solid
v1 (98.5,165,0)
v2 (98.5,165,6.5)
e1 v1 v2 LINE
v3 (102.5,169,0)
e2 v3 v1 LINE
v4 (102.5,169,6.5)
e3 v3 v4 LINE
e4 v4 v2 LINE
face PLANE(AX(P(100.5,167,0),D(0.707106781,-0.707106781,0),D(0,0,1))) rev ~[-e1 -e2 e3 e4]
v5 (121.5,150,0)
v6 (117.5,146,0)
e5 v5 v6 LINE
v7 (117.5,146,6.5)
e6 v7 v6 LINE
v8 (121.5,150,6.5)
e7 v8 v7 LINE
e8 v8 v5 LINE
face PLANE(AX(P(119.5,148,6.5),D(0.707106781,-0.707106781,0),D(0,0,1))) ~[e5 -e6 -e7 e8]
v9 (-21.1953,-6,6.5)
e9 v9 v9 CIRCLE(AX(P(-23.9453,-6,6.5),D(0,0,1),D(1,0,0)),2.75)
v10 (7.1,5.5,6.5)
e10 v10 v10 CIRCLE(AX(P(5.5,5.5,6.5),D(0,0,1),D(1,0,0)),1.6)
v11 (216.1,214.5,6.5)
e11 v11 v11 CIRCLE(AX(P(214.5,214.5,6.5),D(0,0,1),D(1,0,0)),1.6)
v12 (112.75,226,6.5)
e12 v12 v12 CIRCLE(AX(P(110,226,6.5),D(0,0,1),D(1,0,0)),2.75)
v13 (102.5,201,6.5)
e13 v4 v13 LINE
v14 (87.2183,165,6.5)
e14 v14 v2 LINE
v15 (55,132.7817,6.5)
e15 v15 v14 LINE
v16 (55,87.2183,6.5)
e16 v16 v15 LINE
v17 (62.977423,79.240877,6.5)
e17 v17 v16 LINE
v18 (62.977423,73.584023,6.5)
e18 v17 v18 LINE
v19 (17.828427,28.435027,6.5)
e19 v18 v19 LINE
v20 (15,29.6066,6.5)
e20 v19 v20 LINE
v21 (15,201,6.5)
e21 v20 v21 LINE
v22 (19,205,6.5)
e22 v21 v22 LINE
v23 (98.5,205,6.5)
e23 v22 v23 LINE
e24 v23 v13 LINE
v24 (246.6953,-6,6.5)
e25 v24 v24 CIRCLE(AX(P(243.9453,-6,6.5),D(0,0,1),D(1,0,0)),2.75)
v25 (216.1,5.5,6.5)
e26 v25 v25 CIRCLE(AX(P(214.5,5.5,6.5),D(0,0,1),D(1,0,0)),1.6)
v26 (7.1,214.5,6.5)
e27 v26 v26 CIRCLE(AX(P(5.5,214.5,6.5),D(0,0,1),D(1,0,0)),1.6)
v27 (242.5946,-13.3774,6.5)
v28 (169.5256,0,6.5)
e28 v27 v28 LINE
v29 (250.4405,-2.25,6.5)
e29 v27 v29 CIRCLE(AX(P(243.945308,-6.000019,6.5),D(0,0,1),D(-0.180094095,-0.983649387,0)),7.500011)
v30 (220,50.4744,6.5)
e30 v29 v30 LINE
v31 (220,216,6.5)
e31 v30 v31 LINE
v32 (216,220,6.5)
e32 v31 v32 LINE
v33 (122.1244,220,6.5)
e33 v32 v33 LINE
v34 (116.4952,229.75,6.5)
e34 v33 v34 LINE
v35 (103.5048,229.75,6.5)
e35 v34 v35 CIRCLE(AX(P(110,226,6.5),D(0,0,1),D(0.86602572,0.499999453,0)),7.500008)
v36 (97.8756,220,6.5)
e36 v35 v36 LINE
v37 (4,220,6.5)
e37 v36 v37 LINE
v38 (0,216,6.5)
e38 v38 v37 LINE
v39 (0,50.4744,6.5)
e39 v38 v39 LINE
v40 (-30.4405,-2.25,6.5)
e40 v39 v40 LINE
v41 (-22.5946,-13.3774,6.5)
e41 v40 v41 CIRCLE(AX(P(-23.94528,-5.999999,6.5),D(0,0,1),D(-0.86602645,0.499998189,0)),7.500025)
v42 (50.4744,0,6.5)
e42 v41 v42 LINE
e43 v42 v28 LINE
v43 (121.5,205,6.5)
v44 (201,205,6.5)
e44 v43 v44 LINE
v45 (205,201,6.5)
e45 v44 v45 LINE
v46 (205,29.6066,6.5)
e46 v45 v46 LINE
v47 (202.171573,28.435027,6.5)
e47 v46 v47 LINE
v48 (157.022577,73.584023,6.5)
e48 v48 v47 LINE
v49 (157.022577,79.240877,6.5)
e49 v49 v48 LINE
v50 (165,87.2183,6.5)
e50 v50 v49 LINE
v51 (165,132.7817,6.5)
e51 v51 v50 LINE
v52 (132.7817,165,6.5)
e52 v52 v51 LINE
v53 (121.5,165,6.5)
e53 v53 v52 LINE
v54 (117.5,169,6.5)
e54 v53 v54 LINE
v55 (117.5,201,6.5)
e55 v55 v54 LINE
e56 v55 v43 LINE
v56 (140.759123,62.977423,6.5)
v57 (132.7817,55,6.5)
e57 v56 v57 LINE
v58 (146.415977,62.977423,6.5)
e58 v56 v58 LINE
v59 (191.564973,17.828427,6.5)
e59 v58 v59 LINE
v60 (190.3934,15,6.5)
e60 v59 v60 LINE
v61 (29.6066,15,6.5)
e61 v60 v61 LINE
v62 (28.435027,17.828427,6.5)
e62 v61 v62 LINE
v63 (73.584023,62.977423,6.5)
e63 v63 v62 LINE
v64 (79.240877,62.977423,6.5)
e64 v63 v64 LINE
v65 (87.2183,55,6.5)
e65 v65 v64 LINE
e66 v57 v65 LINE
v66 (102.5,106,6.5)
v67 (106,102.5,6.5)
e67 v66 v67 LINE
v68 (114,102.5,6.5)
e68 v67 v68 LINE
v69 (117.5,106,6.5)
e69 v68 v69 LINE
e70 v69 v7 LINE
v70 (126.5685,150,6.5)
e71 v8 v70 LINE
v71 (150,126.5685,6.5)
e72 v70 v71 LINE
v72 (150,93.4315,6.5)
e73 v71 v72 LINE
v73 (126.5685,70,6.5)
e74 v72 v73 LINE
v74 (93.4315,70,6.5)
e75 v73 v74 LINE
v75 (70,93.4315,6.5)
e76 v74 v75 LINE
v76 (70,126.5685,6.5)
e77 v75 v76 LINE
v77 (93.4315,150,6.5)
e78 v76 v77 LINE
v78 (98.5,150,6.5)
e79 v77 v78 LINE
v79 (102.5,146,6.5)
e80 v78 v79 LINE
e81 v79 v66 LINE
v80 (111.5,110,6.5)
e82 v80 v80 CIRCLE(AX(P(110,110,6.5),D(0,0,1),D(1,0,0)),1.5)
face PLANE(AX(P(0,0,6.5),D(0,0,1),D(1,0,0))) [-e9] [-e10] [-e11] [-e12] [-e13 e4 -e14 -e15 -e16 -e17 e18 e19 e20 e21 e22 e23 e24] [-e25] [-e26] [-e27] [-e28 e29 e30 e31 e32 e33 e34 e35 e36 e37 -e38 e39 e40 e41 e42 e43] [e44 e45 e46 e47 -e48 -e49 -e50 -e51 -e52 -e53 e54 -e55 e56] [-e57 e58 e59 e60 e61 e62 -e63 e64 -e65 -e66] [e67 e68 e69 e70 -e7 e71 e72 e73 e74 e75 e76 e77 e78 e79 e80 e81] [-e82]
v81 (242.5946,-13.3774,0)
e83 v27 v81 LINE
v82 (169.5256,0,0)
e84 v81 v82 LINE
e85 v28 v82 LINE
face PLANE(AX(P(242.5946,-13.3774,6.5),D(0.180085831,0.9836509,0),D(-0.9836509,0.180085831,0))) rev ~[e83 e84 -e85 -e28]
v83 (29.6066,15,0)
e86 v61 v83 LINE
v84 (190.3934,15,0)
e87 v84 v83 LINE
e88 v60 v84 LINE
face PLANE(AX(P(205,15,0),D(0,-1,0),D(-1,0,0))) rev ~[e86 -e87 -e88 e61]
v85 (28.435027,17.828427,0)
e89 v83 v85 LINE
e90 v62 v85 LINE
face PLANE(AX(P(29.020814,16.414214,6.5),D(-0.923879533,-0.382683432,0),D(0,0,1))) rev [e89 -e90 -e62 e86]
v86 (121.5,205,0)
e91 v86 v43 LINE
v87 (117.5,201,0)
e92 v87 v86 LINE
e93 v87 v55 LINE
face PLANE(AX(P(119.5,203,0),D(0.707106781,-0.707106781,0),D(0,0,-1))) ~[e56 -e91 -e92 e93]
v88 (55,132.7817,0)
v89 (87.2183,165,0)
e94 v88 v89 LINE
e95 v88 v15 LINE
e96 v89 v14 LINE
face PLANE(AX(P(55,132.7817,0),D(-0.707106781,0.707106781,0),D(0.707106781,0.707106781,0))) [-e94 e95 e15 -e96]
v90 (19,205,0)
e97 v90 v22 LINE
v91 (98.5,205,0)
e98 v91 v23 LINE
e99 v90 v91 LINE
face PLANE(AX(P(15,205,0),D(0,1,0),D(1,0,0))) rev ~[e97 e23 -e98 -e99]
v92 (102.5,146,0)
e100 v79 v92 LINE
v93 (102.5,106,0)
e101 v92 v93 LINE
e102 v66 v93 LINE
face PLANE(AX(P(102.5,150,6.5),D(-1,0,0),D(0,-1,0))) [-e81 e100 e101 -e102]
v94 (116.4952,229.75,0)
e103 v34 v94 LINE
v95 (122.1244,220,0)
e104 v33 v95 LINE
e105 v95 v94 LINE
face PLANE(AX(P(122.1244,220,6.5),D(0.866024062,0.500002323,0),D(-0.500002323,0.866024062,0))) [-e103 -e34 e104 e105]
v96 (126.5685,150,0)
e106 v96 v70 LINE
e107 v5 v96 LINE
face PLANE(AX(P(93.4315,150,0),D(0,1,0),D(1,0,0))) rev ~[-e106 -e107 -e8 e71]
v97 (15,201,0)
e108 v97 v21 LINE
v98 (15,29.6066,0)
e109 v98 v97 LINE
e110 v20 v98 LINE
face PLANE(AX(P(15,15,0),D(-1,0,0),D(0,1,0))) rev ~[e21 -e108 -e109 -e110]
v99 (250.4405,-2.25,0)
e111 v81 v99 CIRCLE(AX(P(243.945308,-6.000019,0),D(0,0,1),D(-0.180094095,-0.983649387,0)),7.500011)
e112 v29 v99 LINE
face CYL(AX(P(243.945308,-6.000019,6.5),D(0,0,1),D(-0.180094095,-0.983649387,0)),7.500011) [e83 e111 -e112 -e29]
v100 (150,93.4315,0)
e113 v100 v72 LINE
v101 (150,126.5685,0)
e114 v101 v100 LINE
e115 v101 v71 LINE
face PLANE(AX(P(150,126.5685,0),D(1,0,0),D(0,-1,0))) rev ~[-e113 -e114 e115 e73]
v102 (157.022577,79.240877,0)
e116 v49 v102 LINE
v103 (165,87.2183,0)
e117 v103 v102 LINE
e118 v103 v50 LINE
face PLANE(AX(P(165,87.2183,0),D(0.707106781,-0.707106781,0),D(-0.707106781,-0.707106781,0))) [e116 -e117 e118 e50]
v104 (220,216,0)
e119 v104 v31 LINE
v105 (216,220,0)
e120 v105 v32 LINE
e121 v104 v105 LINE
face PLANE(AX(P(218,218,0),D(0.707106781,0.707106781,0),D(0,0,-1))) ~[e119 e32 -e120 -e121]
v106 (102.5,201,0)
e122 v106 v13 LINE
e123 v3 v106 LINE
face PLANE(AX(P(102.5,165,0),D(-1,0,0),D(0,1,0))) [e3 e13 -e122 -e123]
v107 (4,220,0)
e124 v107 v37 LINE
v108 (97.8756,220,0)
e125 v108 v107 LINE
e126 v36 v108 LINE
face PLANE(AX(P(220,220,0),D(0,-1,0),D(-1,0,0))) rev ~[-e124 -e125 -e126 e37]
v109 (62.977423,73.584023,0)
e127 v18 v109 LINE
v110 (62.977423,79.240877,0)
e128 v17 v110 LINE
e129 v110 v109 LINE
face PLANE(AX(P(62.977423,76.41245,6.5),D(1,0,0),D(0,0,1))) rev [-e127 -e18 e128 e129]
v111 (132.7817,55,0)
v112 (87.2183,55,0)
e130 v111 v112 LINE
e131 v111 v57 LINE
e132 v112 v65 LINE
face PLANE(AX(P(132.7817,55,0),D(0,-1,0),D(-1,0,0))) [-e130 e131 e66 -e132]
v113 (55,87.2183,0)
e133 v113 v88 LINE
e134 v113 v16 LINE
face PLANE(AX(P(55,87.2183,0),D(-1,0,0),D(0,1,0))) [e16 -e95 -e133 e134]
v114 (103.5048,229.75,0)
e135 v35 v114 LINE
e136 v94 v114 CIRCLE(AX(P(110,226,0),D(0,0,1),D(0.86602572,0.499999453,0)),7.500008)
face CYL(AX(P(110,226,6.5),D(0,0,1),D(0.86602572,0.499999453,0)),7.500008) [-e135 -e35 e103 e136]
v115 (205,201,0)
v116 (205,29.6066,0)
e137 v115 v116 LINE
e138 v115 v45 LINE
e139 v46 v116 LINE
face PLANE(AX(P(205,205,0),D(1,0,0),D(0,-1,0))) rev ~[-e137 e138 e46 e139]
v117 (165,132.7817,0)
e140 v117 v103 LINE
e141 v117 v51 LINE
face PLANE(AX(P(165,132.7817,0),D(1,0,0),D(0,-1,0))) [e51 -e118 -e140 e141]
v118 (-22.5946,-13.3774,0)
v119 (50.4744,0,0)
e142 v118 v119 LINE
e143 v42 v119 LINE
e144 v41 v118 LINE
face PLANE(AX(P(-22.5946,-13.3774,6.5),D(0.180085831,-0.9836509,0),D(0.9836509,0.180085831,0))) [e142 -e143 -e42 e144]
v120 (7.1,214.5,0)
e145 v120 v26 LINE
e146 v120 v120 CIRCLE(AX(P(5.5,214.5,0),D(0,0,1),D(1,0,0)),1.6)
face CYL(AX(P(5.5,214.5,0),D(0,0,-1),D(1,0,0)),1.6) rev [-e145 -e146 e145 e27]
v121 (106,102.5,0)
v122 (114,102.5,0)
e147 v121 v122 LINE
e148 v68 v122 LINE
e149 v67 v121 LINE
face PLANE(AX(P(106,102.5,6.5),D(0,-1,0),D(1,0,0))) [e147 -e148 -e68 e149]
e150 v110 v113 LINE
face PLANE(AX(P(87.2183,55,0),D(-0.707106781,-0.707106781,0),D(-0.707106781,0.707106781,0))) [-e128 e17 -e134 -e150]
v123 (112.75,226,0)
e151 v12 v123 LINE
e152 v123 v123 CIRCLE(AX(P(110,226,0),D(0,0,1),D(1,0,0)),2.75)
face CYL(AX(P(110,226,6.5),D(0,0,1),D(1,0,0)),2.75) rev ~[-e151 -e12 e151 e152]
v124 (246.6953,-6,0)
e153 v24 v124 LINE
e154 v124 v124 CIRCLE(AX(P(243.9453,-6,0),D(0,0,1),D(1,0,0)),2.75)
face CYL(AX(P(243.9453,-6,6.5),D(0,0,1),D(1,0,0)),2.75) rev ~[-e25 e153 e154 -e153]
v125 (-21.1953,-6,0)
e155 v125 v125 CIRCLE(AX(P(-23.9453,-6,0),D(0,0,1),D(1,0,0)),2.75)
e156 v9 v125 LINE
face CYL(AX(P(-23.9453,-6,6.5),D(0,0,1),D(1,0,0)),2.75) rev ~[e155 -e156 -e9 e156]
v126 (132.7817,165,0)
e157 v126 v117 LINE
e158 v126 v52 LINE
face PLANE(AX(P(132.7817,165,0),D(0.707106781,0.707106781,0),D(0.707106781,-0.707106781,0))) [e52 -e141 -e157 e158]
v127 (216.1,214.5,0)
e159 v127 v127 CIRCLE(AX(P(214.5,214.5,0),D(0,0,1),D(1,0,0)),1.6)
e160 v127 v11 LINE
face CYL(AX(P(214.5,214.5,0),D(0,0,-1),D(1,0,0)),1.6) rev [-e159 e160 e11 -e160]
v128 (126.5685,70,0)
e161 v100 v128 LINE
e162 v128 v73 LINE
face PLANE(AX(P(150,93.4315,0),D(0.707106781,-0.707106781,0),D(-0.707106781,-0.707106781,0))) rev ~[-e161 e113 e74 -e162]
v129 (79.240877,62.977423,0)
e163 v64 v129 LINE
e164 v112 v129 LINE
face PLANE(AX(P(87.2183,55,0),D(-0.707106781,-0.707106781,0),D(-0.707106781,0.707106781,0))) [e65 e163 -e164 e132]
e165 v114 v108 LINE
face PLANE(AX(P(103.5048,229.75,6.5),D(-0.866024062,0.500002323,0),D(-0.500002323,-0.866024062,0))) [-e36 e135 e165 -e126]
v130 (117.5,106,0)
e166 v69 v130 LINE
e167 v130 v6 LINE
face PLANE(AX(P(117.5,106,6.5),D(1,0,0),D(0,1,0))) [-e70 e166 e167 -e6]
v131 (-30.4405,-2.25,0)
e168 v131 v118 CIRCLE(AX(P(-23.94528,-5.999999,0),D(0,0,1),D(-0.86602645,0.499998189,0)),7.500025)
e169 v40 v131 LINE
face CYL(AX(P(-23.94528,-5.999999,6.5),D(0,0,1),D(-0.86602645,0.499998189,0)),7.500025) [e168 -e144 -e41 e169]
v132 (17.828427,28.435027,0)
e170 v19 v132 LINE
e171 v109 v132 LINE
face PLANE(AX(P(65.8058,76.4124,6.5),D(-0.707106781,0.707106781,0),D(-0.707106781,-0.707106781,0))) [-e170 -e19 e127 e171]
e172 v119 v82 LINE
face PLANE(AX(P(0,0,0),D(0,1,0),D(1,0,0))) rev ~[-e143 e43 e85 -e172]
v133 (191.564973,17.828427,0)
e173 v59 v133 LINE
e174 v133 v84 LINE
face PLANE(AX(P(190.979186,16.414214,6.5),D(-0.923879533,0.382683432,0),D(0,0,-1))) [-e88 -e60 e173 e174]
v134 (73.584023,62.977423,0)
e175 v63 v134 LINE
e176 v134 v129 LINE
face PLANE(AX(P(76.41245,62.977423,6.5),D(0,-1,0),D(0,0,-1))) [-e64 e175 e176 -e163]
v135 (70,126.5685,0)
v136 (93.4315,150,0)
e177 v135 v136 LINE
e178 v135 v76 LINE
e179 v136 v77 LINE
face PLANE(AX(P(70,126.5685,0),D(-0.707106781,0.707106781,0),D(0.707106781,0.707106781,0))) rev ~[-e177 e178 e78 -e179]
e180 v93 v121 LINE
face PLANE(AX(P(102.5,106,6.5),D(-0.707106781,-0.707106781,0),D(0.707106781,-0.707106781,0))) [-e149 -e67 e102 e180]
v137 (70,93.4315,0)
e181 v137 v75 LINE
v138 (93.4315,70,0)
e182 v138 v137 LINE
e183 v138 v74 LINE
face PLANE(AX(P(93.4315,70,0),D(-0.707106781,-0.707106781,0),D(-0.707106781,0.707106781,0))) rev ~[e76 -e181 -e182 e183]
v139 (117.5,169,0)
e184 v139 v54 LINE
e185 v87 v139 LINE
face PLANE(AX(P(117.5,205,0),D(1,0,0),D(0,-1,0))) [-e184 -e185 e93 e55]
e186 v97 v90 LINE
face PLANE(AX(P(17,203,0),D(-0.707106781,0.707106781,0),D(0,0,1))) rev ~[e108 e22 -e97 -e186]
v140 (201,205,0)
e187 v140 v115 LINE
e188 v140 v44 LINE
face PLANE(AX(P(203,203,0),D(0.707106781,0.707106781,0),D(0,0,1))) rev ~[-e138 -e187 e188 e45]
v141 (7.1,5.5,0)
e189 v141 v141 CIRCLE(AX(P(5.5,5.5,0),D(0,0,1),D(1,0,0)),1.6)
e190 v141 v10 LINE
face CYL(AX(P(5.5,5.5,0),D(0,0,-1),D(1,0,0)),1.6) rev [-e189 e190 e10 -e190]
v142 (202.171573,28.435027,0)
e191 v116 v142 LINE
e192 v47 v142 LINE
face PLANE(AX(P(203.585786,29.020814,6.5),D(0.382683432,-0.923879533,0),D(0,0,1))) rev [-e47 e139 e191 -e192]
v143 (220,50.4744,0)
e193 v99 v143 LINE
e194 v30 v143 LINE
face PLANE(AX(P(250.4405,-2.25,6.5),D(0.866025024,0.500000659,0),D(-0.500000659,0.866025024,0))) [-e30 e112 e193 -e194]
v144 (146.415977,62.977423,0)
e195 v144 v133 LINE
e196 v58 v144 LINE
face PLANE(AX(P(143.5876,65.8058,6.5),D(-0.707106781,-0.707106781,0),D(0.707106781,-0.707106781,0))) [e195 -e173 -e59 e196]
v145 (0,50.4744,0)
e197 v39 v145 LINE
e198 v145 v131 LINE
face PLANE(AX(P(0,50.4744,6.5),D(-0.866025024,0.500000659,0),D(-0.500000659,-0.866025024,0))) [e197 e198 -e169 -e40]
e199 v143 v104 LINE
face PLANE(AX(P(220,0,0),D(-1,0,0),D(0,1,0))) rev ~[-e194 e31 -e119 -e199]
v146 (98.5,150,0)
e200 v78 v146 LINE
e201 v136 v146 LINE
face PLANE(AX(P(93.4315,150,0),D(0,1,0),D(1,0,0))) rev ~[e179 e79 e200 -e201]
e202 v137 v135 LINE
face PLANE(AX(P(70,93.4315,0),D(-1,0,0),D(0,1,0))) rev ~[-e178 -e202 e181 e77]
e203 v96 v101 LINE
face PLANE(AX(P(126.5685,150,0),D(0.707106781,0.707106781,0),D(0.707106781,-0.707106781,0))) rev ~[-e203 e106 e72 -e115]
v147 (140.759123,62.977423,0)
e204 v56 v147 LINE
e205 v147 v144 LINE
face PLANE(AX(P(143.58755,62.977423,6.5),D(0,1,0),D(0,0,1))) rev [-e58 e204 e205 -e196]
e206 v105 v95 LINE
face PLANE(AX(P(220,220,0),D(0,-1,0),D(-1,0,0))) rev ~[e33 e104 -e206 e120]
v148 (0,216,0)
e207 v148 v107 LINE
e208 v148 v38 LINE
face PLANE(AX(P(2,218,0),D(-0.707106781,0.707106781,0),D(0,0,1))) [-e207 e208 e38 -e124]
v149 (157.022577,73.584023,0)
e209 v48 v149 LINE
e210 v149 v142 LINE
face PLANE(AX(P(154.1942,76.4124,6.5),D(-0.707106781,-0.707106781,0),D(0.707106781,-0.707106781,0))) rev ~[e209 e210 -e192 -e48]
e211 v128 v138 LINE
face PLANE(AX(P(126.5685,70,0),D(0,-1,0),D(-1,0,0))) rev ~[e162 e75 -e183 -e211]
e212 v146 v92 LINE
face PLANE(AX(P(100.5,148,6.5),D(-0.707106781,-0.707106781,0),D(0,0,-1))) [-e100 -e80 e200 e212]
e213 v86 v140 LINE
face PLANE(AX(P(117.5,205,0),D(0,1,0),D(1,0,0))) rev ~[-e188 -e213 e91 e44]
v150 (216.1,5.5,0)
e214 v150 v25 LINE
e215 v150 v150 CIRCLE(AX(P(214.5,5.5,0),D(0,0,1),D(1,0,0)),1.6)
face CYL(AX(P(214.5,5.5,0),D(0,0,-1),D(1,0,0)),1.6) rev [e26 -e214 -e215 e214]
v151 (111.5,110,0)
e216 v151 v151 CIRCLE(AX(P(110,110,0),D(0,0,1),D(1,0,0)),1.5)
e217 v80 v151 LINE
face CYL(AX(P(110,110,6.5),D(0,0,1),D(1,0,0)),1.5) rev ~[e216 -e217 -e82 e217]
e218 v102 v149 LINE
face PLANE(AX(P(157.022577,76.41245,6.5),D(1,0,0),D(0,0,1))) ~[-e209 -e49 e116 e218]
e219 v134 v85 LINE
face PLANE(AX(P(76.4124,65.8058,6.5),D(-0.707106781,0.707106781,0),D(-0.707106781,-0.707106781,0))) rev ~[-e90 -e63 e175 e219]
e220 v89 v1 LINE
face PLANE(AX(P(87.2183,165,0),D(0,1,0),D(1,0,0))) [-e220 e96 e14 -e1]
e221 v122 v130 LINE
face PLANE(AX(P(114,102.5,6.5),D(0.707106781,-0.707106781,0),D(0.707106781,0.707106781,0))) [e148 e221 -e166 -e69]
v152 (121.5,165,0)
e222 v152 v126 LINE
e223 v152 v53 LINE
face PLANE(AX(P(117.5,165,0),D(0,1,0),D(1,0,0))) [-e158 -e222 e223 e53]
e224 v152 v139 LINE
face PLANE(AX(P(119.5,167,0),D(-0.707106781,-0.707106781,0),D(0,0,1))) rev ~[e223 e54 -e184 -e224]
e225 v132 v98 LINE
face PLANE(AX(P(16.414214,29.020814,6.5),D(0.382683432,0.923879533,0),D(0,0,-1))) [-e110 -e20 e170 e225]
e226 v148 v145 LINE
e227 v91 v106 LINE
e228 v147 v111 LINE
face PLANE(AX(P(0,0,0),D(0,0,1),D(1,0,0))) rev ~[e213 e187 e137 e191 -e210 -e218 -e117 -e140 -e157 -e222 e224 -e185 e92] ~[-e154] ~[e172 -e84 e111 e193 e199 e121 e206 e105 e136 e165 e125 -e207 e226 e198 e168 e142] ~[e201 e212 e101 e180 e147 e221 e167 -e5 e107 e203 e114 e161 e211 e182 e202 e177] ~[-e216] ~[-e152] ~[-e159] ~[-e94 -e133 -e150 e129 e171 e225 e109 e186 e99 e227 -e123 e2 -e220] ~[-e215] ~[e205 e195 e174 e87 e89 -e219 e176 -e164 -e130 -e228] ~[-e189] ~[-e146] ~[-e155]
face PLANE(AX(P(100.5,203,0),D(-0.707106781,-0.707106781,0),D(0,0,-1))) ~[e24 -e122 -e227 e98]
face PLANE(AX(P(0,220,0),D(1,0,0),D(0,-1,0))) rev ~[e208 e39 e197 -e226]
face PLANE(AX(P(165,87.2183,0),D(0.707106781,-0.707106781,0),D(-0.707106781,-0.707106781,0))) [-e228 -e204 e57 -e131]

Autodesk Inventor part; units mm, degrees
ref_plane "YZ Plane" through (0, 0, 0) normal (1, 0, 0) x (0, 1, 0)
ref_plane "XZ Plane" through (0, 0, 0) normal (0, 1, 0) x (-1, 0, 0)
ref_plane "XY Plane" through (0, 0, 0) normal (0, 0, 1) x (1, 0, 0)
sketch "Sketch1" plane through (0, 0, 0) normal (0, 0, 1) x (1, 0, 0)
  line L0 (0, 0) -> (220, 0)
  line L1 (220, 0) -> (220, 220)
  line L2 (220, 220) -> (0, 220)
  line L3 (0, 220) -> (0, 0)
  line L4 (5.5, 214.5) -> (214.5, 214.5) construction
  line L5 (214.5, 214.5) -> (214.5, 5.5) construction
  line L6 (214.5, 5.5) -> (5.5, 5.5) construction
  line L7 (5.5, 5.5) -> (5.5, 214.5) construction
  circle A0 centre (5.5, 5.5) radius 1.6
  circle A1 centre (5.5, 214.5) radius 1.6
  circle A2 centre (214.5, 214.5) radius 1.6
  circle A3 centre (214.5, 5.5) radius 1.6
  line L8 (165, 87.2183) -> (132.7817, 55)
  line L9 (132.7817, 55) -> (87.2183, 55)
  line L10 (87.2183, 55) -> (55, 87.2183)
  line L11 (55, 87.2183) -> (55, 132.7817)
  line L12 (55, 132.7817) -> (87.2183, 165)
  line L13 (132.7817, 165) -> (165, 132.7817)
  line L14 (165, 132.7817) -> (165, 87.2183)
  line L15 (150, 126.5685) -> (150, 93.4315)
  line L16 (150, 93.4315) -> (126.5685, 70)
  line L17 (126.5685, 70) -> (93.4315, 70)
  line L18 (93.4315, 70) -> (70, 93.4315)
  line L19 (70, 93.4315) -> (70, 126.5685)
  line L20 (70, 126.5685) -> (93.4315, 150)
  line L21 (93.4315, 150) -> (126.5685, 150)
  line L22 (126.5685, 150) -> (150, 126.5685)
  line L23 (205, 205) -> (205, 15)
  line L24 (205, 15) -> (15, 15)
  line L25 (15, 15) -> (15, 205)
  line L26 (102.5, 165) -> (102.5, 205)
  line L27 (117.5, 205) -> (117.5, 165)
  line L28 (15, 205) -> (102.5, 205)
  line L29 (117.5, 205) -> (205, 205)
  line L30 (87.2183, 165) -> (102.5, 165)
  line L31 (117.5, 165) -> (132.7817, 165)
  point P0 (214.5, 110)
  point P1 (220, 110)
  point P2 (110, 214.5)
  point P3 (110, 220)
  point P4 (110, 110)
  point P5 (110, 110)
  dimension "d0" = 220
  dimension "d1" = 220
  dimension "d2" = 209
  dimension "d3" = 209
  dimension "d4" = 3.2
  dimension "d5" = 3.2
  dimension "d6" = 3.2
  dimension "d7" = 3.2
  dimension "d9" = 15
  dimension "d10" = 15
  dimension "d11" = 15
  dimension "d12" = 15
  dimension "d13" = 15
  dimension "d14" = 80
  dimension "d15" = 7.5
extrude "Extrusion1" add sketch "Sketch1" along normal blind 6.5
sketch "Sketch2" plane through (0, 0, 6.5) normal (0, 0, 1) x (1, 0, 0)
  line L0 (205, 205) -> (205, 15) projected
  line L1 (205, 15) -> (15, 15) projected
  line L2 (15, 15) -> (15, 205) projected
  line L3 (55, 87.2183) -> (87.2183, 55) projected
  line L4 (132.7817, 55) -> (165, 87.2183) projected
  line L5 (0, 220) -> (0, 0) projected
  line L6 (65.8058, 76.4124) -> (15, 25.6066)
  line L7 (76.4124, 65.8058) -> (25.6066, 15)
  line L8 (143.5876, 65.8058) -> (194.3934, 15)
  line L9 (154.1942, 76.4124) -> (205, 25.6066)
  line L10 (205, 25.6066) -> (205, 15)
  line L11 (205, 15) -> (194.3934, 15)
  line L12 (15, 25.6066) -> (15, 15)
  line L13 (15, 15) -> (25.6066, 15)
  line L14 (15, 15) -> (71.1091, 71.1091) construction
  line L15 (148.8909, 71.1091) -> (205, 15) construction
  line L16 (65.8058, 76.4124) -> (76.4124, 65.8058)
  line L17 (143.5876, 65.8058) -> (154.1942, 76.4124)
  dimension "d18" = 15
  dimension "d19" = 15
  dimension "d20" = 7.5
  dimension "d21" = 7.5
extrude "Extrusion2" add sketch "Sketch2" against normal blind 6.5
sketch "Sketch4" plane through (0, 0, 6.5) normal (0, 0, 1) x (1, 0, 0)
  line L0 (93.4315, 150) -> (126.5685, 150) projected
  line L1 (0, 0) -> (220, 0) projected
  line L2 (220, 0) -> (220, 220) projected
  line L3 (220, 220) -> (0, 220) projected
  line L4 (0, 220) -> (0, 0) projected
  line L5 (-23.9453, -6) -> (243.9453, -6) construction
  line L6 (-23.9453, -6) -> (110, 226) construction
  line L7 (110, 226) -> (243.9453, -6) construction
  circle A0 centre (110, 226) radius 2.75
  circle A1 centre (243.9453, -6) radius 2.75
  circle A2 centre (-23.9453, -6) radius 2.75
  arc A3 (-30.4405, -2.25) -> (-22.5946, -13.3774) centre (-23.9453, -6) ccw
  arc A4 (116.4952, 229.75) -> (103.5048, 229.75) centre (110, 226) ccw
  arc A5 (242.5946, -13.3774) -> (250.4405, -2.25) centre (243.9453, -6) ccw
  line L8 (122.1244, 220) -> (116.4952, 229.75)
  line L9 (103.5048, 229.75) -> (97.8756, 220)
  line L10 (0, 50.4744) -> (-30.4405, -2.25)
  line L11 (250.4405, -2.25) -> (220, 50.4744)
  line L12 (242.5946, -13.3774) -> (169.5256, 0)
  line L13 (-22.5946, -13.3774) -> (50.4744, 0)
  line L14 (0, 50.4744) -> (0, 0)
  line L15 (0, 0) -> (50.4744, 0)
  line L16 (169.5256, 0) -> (220, 0)
  line L17 (220, 50.4744) -> (220, 0)
  point P0 (110, 150)
  dimension "d30" = 5.5
  dimension "d31" = 5.5
  dimension "d32" = 5.5
  dimension "d33" = 15
  dimension "d34" = 15
  dimension "d35" = 15
  dimension "d36" = 6
  dimension "d37" = 6
extrude "Extrusion3" add sketch "Sketch4" against normal blind 6.5 contours L1 L13 A3 L10 L4 | L1 L2 L11 A5 L12 | L9 A4 L8 L3
chamfer "Chamfer1" distance 4 angle 45 16 edges at (25.6066, 15, 3.25) (15, 25.6066, 3.25) (76.4124, 65.8058, 3.25) (65.8058, 76.4124, 3.25) (194.3934, 15, 3.25) (205, 25.6066, 3.25) (143.5876, 65.8058, 3.25) (154.1942, 76.4124, 3.25) (117.5, 205, 3.25) (102.5, 205, 3.25) (117.5, 165, 3.25) (102.5, 165, 3.25) (205, 205, 3.25) (15, 205, 3.25) (0, 220, 3.25) (220, 220, 3.25)
sketch "Sketch5" plane through (0, 0, 6.5) normal (0, 0, 1) x (1, 0, 0)
  line L0 (117.5, 169) -> (117.5, 201) projected
  line L1 (28.435, 17.8284) -> (29.6066, 15) projected
  line L2 (15, 29.6066) -> (17.8284, 28.435) projected
  line L3 (102.5, 201) -> (102.5, 169) projected
  line L4 (93.4315, 150) -> (126.5685, 150) projected
  line L5 (0, 216) -> (4, 220) projected
  line L6 (220, 50.4744) -> (220, 216) projected
  line L7 (70, 126.5685) -> (150, 93.4315) construction
  line L8 (150, 126.5685) -> (70, 93.4315) construction
  line L9 (102.5, 150) -> (102.5, 106)
  line L10 (102.5, 106) -> (106, 102.5)
  line L11 (106, 102.5) -> (114, 102.5)
  line L12 (114, 102.5) -> (117.5, 106)
  line L13 (117.5, 106) -> (117.5, 150)
  circle A0 centre (110, 110) radius 1.5
  point P0 (0, 0)
  dimension "d43" = 3
  dimension "d44" = 8
  dimension "d45" = 7.5
  dimension "d46" = 7.5
extrude "Extrusion4" add sketch "Sketch5" against normal blind 6.5
chamfer "Chamfer2" distance 4 angle 45 2 edges at (102.5, 150, 3.25) (117.5, 150, 3.25)
equation "\"d5\" = d4"
equation "\"d6\" = d4"
equation "\"d7\" = d4"
equation "\"d31\" = d30"
equation "\"d32\" = d30"
equation "\"d34\" = d33"
equation "\"d35\" = d33"
equation "\"d46\" = d45"
properties part number "heatbed_mount_v3"
